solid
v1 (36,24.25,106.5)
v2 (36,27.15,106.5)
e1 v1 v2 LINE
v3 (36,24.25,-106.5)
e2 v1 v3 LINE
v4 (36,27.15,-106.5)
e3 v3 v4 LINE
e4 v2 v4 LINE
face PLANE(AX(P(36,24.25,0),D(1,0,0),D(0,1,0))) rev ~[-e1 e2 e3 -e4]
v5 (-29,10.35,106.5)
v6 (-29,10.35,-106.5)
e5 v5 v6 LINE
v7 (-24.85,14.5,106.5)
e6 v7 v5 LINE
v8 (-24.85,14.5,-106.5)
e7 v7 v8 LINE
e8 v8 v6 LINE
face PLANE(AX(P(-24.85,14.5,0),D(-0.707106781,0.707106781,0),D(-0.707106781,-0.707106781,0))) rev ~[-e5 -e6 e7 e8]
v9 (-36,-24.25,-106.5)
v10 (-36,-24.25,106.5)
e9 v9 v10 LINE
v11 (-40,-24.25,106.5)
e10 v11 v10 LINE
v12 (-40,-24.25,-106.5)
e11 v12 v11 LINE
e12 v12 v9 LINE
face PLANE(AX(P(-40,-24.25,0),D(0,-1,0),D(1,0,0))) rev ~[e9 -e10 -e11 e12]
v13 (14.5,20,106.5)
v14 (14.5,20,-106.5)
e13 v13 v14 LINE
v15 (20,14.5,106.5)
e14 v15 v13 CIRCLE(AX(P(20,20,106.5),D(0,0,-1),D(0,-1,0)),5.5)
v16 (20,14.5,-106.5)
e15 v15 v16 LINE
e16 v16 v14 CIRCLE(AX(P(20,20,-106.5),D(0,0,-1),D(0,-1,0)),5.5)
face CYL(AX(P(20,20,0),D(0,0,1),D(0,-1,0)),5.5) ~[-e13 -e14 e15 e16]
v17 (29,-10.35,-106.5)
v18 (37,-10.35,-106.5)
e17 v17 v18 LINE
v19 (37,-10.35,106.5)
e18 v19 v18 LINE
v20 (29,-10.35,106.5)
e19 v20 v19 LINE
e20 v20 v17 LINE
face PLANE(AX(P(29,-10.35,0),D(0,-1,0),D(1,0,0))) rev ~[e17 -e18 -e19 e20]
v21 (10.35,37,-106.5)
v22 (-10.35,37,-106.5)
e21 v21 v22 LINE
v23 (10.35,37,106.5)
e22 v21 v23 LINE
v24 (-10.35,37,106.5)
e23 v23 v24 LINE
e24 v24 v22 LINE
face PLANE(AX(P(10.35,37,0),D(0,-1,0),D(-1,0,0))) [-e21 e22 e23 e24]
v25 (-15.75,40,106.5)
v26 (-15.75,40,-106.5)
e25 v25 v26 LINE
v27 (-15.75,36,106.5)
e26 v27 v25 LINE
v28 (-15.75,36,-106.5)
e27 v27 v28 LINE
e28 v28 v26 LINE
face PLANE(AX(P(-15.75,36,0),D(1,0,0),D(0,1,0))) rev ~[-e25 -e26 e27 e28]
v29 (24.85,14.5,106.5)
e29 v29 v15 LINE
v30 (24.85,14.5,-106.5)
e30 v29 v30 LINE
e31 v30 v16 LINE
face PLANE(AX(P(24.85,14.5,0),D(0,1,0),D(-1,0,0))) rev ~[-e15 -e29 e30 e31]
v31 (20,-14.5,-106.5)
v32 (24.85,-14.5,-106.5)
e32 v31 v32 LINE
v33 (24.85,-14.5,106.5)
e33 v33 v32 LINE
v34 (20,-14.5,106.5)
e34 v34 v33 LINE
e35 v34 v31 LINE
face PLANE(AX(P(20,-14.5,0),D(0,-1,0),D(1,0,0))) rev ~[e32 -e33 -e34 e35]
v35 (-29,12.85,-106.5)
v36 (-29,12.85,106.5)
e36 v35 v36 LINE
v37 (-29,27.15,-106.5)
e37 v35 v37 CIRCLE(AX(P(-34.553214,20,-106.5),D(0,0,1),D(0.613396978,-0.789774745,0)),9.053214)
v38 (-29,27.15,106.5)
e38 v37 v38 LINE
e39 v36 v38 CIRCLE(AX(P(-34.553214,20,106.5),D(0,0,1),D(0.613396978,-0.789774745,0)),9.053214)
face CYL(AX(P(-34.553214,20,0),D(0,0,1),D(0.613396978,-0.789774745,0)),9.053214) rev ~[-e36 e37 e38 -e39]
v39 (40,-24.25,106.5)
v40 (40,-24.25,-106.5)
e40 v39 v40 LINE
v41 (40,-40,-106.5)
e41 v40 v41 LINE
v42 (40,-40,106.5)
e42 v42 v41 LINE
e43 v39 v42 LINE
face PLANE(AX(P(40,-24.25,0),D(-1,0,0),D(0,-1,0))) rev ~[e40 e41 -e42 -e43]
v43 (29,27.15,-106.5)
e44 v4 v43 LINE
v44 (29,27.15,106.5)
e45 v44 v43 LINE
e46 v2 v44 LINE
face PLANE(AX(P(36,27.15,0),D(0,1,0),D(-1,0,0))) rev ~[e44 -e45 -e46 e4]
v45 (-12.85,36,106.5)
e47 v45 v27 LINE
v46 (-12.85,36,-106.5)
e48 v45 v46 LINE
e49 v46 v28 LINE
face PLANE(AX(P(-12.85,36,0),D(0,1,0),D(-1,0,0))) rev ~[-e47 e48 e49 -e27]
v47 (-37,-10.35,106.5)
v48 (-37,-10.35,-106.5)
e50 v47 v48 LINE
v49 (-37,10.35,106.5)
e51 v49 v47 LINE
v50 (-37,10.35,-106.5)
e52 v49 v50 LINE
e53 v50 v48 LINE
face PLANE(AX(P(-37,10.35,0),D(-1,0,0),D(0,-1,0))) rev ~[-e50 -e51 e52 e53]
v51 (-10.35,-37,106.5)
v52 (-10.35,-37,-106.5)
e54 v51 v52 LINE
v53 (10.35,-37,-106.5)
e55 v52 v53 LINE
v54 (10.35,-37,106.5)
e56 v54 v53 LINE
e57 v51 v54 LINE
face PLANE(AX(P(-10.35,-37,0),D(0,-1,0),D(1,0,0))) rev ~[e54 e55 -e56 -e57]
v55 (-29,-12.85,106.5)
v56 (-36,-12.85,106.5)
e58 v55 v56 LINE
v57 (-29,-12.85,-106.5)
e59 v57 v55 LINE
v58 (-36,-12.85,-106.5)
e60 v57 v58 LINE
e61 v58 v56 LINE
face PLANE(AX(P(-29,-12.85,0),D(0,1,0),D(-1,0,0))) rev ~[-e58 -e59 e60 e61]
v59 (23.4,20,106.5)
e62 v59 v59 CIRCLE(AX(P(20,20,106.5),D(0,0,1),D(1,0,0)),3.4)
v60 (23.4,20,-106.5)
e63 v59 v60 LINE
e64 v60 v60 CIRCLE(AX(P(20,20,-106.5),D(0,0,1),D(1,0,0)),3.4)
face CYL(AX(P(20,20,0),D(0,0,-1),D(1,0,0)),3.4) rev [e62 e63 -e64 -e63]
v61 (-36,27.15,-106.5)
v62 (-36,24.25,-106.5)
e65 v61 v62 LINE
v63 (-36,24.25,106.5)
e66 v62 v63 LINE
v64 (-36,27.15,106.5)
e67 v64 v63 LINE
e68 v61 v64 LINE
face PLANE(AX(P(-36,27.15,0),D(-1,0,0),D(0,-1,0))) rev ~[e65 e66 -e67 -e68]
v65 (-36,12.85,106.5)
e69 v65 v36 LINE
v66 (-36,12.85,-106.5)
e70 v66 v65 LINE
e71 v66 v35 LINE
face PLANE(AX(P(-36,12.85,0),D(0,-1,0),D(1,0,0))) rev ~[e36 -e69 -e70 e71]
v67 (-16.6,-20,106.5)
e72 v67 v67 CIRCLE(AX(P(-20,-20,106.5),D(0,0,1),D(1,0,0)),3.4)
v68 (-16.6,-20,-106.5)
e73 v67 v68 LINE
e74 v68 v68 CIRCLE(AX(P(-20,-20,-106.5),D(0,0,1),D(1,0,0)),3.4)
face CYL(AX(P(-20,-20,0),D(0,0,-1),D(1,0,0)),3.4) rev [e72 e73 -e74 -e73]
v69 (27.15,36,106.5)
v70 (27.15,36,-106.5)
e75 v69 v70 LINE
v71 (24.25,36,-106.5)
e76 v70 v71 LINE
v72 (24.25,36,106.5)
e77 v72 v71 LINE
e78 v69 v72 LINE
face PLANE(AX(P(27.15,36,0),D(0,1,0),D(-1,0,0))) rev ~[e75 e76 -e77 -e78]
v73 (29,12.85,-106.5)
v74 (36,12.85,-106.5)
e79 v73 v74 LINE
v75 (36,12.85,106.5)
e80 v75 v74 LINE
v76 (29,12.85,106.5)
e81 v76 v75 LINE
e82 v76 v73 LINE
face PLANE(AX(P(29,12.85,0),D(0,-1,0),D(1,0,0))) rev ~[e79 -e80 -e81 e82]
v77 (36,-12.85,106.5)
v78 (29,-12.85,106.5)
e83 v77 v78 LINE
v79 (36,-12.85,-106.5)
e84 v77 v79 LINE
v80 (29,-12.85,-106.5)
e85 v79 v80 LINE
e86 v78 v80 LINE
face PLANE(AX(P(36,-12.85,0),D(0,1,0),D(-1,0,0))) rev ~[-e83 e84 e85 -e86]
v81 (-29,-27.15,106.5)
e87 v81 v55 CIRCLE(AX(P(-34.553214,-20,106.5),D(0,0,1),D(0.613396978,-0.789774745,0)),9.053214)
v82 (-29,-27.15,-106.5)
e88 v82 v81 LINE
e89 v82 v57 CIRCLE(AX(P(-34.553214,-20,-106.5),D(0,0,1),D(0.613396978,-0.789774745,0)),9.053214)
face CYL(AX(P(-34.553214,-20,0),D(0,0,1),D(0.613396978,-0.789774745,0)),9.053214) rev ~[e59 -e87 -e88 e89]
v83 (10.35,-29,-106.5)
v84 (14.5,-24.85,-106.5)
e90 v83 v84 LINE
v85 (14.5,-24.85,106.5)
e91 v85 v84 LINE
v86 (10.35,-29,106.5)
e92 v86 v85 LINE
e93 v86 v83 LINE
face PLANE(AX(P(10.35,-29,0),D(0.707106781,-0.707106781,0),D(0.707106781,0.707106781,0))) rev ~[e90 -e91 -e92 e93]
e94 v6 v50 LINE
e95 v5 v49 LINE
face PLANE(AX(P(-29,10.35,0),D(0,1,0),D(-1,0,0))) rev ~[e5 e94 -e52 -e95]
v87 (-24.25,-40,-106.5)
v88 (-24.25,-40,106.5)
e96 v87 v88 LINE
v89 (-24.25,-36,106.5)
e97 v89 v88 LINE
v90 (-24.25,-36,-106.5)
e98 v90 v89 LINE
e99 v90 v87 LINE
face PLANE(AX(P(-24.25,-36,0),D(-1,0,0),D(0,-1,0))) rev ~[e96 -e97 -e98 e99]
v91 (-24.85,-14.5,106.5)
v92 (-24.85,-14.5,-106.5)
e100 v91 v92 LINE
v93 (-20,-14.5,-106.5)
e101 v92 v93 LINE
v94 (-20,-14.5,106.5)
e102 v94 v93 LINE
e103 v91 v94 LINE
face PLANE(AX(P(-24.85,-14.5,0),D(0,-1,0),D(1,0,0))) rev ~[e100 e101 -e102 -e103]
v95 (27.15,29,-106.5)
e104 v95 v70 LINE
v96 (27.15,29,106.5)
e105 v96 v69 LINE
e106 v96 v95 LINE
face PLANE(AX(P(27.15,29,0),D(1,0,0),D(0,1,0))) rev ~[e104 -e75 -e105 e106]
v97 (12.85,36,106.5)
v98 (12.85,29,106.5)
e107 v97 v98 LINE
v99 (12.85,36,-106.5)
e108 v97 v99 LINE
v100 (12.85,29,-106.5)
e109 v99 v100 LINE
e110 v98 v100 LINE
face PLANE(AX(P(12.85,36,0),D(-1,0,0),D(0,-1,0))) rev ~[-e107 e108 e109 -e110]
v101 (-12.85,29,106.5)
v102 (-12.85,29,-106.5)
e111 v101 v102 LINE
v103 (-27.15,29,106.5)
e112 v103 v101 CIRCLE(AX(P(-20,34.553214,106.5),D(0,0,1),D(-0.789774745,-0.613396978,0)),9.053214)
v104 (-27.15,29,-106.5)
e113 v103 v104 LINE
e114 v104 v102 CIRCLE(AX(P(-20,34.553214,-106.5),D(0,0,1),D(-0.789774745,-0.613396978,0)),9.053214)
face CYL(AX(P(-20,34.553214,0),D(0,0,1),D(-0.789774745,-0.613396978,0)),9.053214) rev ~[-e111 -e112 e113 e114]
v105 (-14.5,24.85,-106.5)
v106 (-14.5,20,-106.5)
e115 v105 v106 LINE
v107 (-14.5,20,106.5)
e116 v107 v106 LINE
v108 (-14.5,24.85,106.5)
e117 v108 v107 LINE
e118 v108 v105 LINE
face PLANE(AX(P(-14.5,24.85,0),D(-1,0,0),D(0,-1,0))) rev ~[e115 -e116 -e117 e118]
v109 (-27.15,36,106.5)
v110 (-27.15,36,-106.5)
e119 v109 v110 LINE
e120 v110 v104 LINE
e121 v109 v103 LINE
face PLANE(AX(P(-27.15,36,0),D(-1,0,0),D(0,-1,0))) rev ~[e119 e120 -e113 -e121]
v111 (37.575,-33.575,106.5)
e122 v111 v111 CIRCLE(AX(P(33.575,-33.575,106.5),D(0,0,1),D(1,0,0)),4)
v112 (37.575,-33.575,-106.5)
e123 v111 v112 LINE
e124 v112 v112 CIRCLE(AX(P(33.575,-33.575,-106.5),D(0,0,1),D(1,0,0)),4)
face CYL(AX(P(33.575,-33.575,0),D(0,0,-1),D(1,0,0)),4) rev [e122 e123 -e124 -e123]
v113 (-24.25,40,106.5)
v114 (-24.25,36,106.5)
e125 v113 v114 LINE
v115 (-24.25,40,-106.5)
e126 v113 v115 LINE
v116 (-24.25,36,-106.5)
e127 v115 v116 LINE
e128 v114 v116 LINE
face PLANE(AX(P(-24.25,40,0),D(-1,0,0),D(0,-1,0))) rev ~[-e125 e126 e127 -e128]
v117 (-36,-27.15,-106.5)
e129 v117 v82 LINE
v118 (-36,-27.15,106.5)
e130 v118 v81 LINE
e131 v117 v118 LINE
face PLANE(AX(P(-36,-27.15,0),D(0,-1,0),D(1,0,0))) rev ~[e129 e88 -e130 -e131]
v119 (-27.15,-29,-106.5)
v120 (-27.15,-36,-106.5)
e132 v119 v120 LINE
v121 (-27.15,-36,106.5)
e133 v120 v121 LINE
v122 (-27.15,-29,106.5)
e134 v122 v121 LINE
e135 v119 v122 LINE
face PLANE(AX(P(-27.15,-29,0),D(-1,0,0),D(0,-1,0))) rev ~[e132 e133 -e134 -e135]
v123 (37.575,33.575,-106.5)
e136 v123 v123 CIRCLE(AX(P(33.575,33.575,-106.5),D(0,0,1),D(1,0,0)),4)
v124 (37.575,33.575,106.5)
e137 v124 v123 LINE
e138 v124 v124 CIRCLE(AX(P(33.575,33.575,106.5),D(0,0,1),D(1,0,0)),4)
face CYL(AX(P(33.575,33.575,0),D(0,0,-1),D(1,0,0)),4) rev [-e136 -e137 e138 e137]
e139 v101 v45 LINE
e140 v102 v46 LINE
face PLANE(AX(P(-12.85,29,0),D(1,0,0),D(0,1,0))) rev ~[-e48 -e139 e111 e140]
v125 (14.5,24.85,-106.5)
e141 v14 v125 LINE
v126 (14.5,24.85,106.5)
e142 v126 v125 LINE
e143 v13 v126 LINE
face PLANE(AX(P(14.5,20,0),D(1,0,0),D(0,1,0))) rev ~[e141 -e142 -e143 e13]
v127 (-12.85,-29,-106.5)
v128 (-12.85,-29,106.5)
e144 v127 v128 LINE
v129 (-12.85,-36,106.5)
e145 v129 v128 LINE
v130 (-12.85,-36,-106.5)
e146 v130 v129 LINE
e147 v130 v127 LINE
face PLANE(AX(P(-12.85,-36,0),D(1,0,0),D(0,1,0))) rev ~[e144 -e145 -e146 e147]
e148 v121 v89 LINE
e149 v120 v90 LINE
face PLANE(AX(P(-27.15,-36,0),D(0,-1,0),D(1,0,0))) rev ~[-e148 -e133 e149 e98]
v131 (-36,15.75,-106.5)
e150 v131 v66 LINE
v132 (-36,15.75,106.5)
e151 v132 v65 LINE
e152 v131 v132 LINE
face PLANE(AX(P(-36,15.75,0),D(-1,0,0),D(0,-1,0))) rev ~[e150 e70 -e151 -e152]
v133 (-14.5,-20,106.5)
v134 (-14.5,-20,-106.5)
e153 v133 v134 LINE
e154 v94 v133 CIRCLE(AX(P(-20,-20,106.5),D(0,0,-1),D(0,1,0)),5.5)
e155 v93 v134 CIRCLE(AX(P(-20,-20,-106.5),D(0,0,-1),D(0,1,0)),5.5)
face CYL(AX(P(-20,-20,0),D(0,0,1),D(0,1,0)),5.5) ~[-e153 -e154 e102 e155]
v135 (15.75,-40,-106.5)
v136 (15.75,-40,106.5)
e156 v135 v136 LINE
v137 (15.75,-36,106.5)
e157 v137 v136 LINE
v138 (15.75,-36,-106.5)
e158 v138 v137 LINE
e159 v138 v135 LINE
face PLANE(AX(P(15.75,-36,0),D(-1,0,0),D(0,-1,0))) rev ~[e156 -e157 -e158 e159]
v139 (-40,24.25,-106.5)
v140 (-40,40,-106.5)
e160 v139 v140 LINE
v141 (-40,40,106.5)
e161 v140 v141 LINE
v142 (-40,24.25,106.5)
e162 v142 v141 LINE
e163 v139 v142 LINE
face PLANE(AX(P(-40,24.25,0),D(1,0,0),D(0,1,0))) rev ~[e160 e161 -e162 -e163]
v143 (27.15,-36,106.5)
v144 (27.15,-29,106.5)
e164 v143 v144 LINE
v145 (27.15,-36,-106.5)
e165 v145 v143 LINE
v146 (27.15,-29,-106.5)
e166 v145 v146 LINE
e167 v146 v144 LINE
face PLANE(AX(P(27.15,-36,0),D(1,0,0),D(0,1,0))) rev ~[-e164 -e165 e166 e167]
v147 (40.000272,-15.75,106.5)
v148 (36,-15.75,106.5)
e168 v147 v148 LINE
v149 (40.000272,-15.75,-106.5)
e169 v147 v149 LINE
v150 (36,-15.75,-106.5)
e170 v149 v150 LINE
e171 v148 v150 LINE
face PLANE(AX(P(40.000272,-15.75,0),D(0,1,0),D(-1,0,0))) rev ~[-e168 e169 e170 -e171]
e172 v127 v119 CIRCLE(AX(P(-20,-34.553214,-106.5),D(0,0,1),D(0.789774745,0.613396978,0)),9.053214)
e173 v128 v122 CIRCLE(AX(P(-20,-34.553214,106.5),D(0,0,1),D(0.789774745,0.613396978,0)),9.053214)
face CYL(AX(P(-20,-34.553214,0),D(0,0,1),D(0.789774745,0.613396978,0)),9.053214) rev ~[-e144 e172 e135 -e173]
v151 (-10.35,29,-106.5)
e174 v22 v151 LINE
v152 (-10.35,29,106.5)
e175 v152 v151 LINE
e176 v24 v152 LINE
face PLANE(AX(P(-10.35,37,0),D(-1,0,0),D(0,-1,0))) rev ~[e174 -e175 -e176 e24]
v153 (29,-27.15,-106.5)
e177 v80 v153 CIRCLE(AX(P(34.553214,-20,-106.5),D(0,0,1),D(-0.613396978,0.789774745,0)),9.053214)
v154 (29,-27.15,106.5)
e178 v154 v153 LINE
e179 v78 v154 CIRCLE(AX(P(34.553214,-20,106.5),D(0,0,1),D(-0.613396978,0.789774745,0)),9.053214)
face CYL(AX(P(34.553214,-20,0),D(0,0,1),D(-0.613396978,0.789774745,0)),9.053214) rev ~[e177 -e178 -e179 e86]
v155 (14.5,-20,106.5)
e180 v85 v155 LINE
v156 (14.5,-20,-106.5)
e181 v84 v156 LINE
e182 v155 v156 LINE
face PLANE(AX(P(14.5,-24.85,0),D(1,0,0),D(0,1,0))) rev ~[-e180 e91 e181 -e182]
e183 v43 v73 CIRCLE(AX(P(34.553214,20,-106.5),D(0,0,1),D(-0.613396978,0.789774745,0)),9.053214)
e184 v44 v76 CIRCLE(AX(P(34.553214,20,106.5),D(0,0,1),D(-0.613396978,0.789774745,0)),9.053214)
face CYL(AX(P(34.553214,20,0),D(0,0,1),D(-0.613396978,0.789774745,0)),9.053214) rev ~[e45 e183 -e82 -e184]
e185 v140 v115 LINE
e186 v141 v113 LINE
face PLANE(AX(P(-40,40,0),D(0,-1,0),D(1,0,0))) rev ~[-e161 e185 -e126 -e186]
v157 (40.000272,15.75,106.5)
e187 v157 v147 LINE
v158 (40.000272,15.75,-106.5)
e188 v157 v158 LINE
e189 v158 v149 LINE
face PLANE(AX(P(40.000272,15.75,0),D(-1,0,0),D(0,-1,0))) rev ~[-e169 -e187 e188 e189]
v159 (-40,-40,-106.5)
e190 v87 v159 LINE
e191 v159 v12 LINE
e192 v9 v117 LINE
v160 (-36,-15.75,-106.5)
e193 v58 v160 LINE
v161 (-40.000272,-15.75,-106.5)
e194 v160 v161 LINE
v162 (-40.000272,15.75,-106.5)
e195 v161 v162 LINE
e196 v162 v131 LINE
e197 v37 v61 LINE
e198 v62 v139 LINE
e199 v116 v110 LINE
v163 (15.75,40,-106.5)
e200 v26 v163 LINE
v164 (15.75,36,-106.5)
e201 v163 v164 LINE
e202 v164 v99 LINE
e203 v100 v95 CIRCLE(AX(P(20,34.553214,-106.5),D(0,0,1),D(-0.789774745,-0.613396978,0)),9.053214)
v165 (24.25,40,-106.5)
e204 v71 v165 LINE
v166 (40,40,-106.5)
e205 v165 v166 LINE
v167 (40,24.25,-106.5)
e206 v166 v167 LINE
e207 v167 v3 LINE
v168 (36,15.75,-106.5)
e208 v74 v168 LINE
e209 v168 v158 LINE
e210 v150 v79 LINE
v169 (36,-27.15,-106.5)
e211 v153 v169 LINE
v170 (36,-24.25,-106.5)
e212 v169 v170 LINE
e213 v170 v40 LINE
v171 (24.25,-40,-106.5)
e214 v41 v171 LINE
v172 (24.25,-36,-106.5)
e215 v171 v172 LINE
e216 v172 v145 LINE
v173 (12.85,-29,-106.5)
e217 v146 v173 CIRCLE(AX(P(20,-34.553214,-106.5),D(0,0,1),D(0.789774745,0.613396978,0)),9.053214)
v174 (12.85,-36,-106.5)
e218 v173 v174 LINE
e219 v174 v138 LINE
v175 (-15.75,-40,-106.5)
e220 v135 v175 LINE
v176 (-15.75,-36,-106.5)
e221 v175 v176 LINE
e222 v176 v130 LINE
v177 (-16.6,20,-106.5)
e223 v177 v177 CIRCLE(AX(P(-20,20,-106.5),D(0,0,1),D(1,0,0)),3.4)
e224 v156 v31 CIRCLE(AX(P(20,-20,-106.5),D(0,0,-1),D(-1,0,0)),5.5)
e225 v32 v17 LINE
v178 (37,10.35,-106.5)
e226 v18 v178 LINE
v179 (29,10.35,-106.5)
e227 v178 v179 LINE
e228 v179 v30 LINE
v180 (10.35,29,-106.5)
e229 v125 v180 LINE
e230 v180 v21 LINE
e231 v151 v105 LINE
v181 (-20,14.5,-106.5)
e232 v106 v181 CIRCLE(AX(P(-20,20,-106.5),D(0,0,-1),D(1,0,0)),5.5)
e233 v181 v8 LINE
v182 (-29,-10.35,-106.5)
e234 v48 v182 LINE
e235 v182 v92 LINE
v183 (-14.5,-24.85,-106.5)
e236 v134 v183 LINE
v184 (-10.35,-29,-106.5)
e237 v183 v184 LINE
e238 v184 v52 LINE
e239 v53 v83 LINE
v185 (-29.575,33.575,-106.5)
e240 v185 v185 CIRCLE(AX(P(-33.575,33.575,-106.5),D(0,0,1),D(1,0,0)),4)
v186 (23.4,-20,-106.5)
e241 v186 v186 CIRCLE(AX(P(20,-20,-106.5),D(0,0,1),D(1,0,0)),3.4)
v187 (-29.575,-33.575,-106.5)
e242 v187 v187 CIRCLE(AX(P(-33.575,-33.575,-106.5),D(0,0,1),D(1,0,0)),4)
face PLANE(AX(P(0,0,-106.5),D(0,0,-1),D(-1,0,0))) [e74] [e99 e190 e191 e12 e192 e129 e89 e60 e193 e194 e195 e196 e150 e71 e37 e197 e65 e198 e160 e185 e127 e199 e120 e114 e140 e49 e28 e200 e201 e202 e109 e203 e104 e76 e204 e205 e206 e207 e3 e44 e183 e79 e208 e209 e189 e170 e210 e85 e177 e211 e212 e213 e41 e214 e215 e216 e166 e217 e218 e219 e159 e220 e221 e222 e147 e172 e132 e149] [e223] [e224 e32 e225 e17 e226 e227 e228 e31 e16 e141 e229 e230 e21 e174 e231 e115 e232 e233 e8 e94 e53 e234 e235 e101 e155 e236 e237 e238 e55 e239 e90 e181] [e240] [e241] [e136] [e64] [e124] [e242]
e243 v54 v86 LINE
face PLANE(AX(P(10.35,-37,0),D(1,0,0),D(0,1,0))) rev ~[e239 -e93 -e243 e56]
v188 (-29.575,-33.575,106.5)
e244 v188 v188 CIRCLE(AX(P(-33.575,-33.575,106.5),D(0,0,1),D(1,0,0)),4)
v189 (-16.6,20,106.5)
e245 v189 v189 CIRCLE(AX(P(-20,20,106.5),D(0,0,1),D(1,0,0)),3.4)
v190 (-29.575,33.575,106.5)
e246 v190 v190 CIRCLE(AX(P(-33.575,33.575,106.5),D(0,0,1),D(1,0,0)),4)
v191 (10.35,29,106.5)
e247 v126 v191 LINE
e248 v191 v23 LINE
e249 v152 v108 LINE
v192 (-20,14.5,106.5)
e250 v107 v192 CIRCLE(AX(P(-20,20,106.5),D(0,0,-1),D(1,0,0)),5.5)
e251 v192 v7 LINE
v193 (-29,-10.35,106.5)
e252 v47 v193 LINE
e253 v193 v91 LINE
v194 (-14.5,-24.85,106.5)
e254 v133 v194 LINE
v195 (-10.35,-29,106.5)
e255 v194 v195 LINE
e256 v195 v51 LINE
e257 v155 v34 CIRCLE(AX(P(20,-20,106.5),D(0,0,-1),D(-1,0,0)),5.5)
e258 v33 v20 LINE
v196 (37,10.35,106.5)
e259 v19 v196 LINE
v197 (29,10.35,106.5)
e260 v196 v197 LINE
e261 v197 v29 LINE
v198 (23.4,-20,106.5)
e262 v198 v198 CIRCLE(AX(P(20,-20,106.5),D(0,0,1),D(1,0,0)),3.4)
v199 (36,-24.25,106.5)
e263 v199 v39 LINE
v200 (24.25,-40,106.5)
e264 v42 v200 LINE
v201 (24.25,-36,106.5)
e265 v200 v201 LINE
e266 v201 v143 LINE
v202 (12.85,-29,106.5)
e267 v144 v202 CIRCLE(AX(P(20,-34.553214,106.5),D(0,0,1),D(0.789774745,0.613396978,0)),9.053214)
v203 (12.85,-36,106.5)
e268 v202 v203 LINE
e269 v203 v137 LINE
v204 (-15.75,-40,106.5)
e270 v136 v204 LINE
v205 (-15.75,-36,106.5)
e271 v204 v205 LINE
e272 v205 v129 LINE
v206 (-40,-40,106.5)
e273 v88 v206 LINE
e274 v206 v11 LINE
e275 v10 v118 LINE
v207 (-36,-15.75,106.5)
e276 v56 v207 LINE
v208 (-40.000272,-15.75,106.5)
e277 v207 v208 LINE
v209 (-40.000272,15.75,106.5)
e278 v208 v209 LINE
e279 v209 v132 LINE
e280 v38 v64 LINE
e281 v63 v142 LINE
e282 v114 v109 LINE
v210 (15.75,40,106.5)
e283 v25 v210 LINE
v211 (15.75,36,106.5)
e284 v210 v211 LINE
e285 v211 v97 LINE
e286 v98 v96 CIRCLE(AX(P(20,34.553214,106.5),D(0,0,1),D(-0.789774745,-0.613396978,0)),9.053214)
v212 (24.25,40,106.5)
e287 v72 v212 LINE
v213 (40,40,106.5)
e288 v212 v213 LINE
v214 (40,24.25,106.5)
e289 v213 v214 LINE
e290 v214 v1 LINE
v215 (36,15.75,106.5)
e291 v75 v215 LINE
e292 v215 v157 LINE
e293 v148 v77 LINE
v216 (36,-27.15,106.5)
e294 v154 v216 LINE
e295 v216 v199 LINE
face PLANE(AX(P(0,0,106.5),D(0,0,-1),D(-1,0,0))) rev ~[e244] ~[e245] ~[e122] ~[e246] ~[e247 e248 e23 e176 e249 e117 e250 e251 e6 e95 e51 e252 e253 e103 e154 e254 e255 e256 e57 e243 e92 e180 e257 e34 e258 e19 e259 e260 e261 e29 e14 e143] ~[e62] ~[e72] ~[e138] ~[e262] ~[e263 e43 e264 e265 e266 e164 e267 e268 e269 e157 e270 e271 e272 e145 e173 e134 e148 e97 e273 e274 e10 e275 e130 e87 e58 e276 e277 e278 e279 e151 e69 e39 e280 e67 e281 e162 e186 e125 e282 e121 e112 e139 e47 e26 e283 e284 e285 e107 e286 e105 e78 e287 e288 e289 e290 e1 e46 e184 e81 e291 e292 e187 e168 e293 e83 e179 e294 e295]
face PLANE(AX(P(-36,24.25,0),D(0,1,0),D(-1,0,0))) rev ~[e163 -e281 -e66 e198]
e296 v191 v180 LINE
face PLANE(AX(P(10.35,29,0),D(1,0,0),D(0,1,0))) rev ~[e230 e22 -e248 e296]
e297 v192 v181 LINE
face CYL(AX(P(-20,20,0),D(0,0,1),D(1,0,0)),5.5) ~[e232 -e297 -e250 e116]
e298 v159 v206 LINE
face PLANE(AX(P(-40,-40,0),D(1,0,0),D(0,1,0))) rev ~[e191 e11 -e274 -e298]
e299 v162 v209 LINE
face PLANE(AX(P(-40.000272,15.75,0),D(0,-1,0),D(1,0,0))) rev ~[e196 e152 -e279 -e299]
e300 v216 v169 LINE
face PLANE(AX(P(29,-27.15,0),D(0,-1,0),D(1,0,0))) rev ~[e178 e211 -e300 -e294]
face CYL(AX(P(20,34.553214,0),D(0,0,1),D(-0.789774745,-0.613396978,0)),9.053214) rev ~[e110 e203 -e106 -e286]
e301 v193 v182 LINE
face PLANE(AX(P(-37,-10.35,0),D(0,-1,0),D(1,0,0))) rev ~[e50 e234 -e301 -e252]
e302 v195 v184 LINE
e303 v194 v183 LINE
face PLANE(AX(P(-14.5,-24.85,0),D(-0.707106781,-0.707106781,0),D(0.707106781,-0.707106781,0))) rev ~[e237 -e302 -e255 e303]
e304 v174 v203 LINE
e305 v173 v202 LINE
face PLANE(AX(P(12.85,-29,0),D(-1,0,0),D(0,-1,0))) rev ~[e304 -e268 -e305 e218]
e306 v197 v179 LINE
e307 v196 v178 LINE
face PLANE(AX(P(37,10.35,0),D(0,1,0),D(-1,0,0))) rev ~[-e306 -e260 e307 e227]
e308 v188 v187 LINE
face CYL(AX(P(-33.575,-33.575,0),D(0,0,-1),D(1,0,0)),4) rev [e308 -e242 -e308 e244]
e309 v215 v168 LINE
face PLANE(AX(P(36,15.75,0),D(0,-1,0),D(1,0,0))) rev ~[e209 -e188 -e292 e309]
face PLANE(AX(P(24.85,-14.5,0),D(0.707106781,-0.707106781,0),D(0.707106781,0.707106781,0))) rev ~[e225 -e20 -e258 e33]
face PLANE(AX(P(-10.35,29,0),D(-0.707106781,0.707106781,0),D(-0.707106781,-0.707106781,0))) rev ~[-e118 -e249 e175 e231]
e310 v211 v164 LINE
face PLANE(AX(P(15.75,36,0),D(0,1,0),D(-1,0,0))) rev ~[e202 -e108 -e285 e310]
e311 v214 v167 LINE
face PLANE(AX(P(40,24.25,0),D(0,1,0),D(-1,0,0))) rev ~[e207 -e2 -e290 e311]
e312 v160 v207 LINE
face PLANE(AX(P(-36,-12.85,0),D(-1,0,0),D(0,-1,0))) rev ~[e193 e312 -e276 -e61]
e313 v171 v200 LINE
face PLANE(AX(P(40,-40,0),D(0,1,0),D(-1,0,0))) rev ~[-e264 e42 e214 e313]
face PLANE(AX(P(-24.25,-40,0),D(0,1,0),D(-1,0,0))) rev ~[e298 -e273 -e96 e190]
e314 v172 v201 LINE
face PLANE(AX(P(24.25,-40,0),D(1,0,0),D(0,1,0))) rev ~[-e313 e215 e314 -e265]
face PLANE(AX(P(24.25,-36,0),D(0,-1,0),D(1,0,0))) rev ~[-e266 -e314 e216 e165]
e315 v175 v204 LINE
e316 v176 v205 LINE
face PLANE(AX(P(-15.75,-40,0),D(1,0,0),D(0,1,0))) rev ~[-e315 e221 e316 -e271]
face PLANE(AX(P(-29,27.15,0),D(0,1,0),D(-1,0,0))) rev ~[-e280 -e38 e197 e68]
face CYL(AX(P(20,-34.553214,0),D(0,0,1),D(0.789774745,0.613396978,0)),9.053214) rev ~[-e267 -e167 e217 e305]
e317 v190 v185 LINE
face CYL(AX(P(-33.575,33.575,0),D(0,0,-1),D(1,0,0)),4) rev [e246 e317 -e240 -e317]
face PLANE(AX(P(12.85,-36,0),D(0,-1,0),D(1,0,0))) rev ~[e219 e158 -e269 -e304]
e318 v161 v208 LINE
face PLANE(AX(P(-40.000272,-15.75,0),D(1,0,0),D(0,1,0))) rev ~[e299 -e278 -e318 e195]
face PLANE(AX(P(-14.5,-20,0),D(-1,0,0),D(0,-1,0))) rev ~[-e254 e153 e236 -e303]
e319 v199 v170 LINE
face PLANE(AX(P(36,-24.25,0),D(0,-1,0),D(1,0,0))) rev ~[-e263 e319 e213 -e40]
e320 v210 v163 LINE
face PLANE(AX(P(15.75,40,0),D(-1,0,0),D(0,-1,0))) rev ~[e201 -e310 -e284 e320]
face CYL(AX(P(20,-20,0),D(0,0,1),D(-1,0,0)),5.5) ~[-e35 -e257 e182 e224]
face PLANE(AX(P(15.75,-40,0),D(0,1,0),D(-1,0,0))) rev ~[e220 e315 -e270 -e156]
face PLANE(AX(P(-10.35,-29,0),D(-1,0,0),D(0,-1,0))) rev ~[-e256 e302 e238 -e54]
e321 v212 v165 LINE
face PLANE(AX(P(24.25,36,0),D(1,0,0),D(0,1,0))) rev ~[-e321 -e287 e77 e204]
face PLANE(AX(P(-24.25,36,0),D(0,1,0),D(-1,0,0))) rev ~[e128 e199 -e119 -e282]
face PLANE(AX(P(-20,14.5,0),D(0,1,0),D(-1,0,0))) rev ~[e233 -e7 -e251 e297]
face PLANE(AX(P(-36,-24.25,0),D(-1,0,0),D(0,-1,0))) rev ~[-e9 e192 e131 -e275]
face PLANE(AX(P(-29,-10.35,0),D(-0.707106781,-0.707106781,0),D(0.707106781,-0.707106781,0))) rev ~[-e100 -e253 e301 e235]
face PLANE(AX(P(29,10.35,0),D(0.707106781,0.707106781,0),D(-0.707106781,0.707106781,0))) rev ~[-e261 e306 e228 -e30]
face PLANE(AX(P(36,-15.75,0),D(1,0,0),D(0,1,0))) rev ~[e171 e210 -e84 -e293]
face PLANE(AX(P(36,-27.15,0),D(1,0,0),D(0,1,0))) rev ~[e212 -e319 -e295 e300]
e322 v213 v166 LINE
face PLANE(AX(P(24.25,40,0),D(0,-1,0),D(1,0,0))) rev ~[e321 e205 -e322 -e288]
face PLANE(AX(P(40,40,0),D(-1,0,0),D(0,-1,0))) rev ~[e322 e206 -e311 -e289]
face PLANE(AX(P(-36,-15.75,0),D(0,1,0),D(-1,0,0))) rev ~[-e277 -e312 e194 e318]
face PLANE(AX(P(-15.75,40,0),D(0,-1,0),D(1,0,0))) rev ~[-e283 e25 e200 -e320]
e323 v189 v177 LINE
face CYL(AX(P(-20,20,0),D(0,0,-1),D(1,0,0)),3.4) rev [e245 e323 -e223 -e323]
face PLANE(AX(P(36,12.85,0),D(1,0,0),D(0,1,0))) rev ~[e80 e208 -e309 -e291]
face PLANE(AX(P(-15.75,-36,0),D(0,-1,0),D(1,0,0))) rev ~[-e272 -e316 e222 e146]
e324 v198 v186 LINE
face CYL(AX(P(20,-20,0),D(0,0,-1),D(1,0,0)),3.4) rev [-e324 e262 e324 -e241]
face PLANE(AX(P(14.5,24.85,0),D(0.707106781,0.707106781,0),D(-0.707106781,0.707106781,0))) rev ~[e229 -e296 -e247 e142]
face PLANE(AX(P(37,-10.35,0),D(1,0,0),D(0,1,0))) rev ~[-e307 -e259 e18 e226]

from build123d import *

# Parameters (mm, degrees)
SKETCH_1_R      = 3.4
SKETCH_1_R_2    = 4
EXTRUDE_1_DEPTH = 106.5


with BuildPart() as part:
    # 草图1 → 凸台-拉伸1 (new, symmetric)
    with BuildSketch(Plane.XY):
        with BuildLine():
            Line((-40, 40), (-24.25, 40))
            Line((-24.25, 40), (-24.25, 36))
            Line((-24.25, 36), (-27.15, 36))
            Line((-27.15, 36), (-27.15, 29))
            ThreePointArc((-27.15, 29), (-20, 25.5), (-12.85, 29))
            Line((-12.85, 29), (-12.85, 36))
            Line((-12.85, 36), (-15.75, 36))
            Line((-15.75, 36), (-15.75, 40))
            Line((-15.75, 40), (15.75, 40))
            Line((15.75, 40), (15.75, 36))
            Line((15.75, 36), (12.85, 36))
            Line((12.85, 36), (12.85, 29))
            ThreePointArc((12.85, 29), (20, 25.5), (27.15, 29))
            Line((27.15, 29), (27.15, 36))
            Line((27.15, 36), (24.25, 36))
            Line((24.25, 36), (24.25, 40))
            Line((24.25, 40), (40, 40))
            Line((40, 40), (40, 24.25))
            Line((40, 24.25), (36, 24.25))
            Line((36, 24.25), (36, 27.15))
            Line((36, 27.15), (29, 27.15))
            ThreePointArc((29, 27.15), (25.5, 20), (29, 12.85))
            Line((29, 12.85), (36, 12.85))
            Line((36, 12.85), (36, 15.75))
            Line((36, 15.75), (40.000271684, 15.75))
            Line((40.000271684, 15.75), (40.000271684, -15.75))
            Line((40.000271684, -15.75), (36, -15.75))
            Line((36, -15.75), (36, -12.85))
            Line((36, -12.85), (29, -12.85))
            ThreePointArc((29, -12.85), (25.5, -20), (29, -27.15))
            Line((29, -27.15), (36, -27.15))
            Line((36, -27.15), (36, -24.25))
            Line((36, -24.25), (40, -24.25))
            Line((40, -24.25), (40, -40))
            Line((40, -40), (24.25, -40))
            Line((24.25, -40), (24.25, -36))
            Line((24.25, -36), (27.15, -36))
            Line((27.15, -36), (27.15, -29))
            ThreePointArc((27.15, -29), (20, -25.5), (12.85, -29))
            Line((12.85, -29), (12.85, -36))
            Line((12.85, -36), (15.75, -36))
            Line((15.75, -36), (15.75, -40))
            Line((15.75, -40), (-15.75, -40))
            Line((-15.75, -40), (-15.75, -36))
            Line((-15.75, -36), (-12.85, -36))
            Line((-12.85, -36), (-12.85, -29))
            ThreePointArc((-12.85, -29), (-20, -25.5), (-27.15, -29))
            Line((-27.15, -29), (-27.15, -36))
            Line((-27.15, -36), (-24.25, -36))
            Line((-24.25, -36), (-24.25, -40))
            Line((-24.25, -40), (-40, -40))
            Line((-40, -40), (-40, -24.25))
            Line((-40, -24.25), (-36, -24.25))
            Line((-36, -24.25), (-36, -27.15))
            Line((-36, -27.15), (-29, -27.15))
            ThreePointArc((-29, -27.15), (-25.5, -20), (-29, -12.85))
            Line((-29, -12.85), (-36, -12.85))
            Line((-36, -12.85), (-36, -15.75))
            Line((-36, -15.75), (-40.000271684, -15.75))
            Line((-40.000271684, -15.75), (-40.000271684, 15.75))
            Line((-40.000271684, 15.75), (-36, 15.75))
            Line((-36, 15.75), (-36, 12.85))
            Line((-36, 12.85), (-29, 12.85))
            ThreePointArc((-29, 12.85), (-25.5, 20), (-29, 27.15))
            Line((-29, 27.15), (-36, 27.15))
            Line((-36, 27.15), (-36, 24.25))
            Line((-36, 24.25), (-40, 24.25))
            Line((-40, 24.25), (-40, 40))
        make_face()
        with Locations((-20, 20)):
            Circle(SKETCH_1_R, mode=Mode.SUBTRACT)
        with Locations((-33.575, 33.575)):
            Circle(SKETCH_1_R_2, mode=Mode.SUBTRACT)
        with Locations((33.575, 33.575)):
            Circle(SKETCH_1_R_2, mode=Mode.SUBTRACT)
        with Locations((20, 20)):
            Circle(SKETCH_1_R, mode=Mode.SUBTRACT)
        with Locations((20, -20)):
            Circle(SKETCH_1_R, mode=Mode.SUBTRACT)
        with Locations((33.575, -33.575)):
            Circle(SKETCH_1_R_2, mode=Mode.SUBTRACT)
        with Locations((-33.575, -33.575)):
            Circle(SKETCH_1_R_2, mode=Mode.SUBTRACT)
        with Locations((-20, -20)):
            Circle(SKETCH_1_R, mode=Mode.SUBTRACT)
        with BuildLine():
            Line((10.35, 37), (-10.35, 37))
            Line((-10.35, 37), (-10.35, 29))
            Line((-10.35, 29), (-14.5, 24.85))
            Line((-14.5, 24.85), (-14.5, 20))
            ThreePointArc((-14.5, 20), (-16.110912703, 16.110912703), (-20, 14.5))
            Line((-20, 14.5), (-24.85, 14.5))
            Line((-24.85, 14.5), (-29, 10.35))
            Line((-29, 10.35), (-37, 10.35))
            Line((-37, 10.35), (-37, -10.35))
            Line((-37, -10.35), (-29, -10.35))
            Line((-29, -10.35), (-24.85, -14.5))
            Line((-24.85, -14.5), (-20, -14.5))
            ThreePointArc((-20, -14.5), (-16.110912703, -16.110912703), (-14.5, -20))
            Line((-14.5, -20), (-14.5, -24.85))
            Line((-14.5, -24.85), (-10.35, -29))
            Line((-10.35, -29), (-10.35, -37))
            Line((-10.35, -37), (10.35, -37))
            Line((10.35, -37), (10.35, -29))
            Line((10.35, -29), (14.5, -24.85))
            Line((14.5, -24.85), (14.5, -20))
            ThreePointArc((14.5, -20), (16.110912703, -16.110912703), (20, -14.5))
            Line((20, -14.5), (24.85, -14.5))
            Line((24.85, -14.5), (29, -10.35))
            Line((29, -10.35), (37, -10.35))
            Line((37, -10.35), (37, 10.35))
            Line((37, 10.35), (29, 10.35))
            Line((29, 10.35), (24.85, 14.5))
            Line((24.85, 14.5), (20, 14.5))
            ThreePointArc((20, 14.5), (16.110912703, 16.110912703), (14.5, 20))
            Line((14.5, 20), (14.5, 24.85))
            Line((14.5, 24.85), (10.35, 29))
            Line((10.35, 29), (10.35, 37))
        make_face(mode=Mode.SUBTRACT)
    extrude(amount=EXTRUDE_1_DEPTH, both=True)


solid = part.part
